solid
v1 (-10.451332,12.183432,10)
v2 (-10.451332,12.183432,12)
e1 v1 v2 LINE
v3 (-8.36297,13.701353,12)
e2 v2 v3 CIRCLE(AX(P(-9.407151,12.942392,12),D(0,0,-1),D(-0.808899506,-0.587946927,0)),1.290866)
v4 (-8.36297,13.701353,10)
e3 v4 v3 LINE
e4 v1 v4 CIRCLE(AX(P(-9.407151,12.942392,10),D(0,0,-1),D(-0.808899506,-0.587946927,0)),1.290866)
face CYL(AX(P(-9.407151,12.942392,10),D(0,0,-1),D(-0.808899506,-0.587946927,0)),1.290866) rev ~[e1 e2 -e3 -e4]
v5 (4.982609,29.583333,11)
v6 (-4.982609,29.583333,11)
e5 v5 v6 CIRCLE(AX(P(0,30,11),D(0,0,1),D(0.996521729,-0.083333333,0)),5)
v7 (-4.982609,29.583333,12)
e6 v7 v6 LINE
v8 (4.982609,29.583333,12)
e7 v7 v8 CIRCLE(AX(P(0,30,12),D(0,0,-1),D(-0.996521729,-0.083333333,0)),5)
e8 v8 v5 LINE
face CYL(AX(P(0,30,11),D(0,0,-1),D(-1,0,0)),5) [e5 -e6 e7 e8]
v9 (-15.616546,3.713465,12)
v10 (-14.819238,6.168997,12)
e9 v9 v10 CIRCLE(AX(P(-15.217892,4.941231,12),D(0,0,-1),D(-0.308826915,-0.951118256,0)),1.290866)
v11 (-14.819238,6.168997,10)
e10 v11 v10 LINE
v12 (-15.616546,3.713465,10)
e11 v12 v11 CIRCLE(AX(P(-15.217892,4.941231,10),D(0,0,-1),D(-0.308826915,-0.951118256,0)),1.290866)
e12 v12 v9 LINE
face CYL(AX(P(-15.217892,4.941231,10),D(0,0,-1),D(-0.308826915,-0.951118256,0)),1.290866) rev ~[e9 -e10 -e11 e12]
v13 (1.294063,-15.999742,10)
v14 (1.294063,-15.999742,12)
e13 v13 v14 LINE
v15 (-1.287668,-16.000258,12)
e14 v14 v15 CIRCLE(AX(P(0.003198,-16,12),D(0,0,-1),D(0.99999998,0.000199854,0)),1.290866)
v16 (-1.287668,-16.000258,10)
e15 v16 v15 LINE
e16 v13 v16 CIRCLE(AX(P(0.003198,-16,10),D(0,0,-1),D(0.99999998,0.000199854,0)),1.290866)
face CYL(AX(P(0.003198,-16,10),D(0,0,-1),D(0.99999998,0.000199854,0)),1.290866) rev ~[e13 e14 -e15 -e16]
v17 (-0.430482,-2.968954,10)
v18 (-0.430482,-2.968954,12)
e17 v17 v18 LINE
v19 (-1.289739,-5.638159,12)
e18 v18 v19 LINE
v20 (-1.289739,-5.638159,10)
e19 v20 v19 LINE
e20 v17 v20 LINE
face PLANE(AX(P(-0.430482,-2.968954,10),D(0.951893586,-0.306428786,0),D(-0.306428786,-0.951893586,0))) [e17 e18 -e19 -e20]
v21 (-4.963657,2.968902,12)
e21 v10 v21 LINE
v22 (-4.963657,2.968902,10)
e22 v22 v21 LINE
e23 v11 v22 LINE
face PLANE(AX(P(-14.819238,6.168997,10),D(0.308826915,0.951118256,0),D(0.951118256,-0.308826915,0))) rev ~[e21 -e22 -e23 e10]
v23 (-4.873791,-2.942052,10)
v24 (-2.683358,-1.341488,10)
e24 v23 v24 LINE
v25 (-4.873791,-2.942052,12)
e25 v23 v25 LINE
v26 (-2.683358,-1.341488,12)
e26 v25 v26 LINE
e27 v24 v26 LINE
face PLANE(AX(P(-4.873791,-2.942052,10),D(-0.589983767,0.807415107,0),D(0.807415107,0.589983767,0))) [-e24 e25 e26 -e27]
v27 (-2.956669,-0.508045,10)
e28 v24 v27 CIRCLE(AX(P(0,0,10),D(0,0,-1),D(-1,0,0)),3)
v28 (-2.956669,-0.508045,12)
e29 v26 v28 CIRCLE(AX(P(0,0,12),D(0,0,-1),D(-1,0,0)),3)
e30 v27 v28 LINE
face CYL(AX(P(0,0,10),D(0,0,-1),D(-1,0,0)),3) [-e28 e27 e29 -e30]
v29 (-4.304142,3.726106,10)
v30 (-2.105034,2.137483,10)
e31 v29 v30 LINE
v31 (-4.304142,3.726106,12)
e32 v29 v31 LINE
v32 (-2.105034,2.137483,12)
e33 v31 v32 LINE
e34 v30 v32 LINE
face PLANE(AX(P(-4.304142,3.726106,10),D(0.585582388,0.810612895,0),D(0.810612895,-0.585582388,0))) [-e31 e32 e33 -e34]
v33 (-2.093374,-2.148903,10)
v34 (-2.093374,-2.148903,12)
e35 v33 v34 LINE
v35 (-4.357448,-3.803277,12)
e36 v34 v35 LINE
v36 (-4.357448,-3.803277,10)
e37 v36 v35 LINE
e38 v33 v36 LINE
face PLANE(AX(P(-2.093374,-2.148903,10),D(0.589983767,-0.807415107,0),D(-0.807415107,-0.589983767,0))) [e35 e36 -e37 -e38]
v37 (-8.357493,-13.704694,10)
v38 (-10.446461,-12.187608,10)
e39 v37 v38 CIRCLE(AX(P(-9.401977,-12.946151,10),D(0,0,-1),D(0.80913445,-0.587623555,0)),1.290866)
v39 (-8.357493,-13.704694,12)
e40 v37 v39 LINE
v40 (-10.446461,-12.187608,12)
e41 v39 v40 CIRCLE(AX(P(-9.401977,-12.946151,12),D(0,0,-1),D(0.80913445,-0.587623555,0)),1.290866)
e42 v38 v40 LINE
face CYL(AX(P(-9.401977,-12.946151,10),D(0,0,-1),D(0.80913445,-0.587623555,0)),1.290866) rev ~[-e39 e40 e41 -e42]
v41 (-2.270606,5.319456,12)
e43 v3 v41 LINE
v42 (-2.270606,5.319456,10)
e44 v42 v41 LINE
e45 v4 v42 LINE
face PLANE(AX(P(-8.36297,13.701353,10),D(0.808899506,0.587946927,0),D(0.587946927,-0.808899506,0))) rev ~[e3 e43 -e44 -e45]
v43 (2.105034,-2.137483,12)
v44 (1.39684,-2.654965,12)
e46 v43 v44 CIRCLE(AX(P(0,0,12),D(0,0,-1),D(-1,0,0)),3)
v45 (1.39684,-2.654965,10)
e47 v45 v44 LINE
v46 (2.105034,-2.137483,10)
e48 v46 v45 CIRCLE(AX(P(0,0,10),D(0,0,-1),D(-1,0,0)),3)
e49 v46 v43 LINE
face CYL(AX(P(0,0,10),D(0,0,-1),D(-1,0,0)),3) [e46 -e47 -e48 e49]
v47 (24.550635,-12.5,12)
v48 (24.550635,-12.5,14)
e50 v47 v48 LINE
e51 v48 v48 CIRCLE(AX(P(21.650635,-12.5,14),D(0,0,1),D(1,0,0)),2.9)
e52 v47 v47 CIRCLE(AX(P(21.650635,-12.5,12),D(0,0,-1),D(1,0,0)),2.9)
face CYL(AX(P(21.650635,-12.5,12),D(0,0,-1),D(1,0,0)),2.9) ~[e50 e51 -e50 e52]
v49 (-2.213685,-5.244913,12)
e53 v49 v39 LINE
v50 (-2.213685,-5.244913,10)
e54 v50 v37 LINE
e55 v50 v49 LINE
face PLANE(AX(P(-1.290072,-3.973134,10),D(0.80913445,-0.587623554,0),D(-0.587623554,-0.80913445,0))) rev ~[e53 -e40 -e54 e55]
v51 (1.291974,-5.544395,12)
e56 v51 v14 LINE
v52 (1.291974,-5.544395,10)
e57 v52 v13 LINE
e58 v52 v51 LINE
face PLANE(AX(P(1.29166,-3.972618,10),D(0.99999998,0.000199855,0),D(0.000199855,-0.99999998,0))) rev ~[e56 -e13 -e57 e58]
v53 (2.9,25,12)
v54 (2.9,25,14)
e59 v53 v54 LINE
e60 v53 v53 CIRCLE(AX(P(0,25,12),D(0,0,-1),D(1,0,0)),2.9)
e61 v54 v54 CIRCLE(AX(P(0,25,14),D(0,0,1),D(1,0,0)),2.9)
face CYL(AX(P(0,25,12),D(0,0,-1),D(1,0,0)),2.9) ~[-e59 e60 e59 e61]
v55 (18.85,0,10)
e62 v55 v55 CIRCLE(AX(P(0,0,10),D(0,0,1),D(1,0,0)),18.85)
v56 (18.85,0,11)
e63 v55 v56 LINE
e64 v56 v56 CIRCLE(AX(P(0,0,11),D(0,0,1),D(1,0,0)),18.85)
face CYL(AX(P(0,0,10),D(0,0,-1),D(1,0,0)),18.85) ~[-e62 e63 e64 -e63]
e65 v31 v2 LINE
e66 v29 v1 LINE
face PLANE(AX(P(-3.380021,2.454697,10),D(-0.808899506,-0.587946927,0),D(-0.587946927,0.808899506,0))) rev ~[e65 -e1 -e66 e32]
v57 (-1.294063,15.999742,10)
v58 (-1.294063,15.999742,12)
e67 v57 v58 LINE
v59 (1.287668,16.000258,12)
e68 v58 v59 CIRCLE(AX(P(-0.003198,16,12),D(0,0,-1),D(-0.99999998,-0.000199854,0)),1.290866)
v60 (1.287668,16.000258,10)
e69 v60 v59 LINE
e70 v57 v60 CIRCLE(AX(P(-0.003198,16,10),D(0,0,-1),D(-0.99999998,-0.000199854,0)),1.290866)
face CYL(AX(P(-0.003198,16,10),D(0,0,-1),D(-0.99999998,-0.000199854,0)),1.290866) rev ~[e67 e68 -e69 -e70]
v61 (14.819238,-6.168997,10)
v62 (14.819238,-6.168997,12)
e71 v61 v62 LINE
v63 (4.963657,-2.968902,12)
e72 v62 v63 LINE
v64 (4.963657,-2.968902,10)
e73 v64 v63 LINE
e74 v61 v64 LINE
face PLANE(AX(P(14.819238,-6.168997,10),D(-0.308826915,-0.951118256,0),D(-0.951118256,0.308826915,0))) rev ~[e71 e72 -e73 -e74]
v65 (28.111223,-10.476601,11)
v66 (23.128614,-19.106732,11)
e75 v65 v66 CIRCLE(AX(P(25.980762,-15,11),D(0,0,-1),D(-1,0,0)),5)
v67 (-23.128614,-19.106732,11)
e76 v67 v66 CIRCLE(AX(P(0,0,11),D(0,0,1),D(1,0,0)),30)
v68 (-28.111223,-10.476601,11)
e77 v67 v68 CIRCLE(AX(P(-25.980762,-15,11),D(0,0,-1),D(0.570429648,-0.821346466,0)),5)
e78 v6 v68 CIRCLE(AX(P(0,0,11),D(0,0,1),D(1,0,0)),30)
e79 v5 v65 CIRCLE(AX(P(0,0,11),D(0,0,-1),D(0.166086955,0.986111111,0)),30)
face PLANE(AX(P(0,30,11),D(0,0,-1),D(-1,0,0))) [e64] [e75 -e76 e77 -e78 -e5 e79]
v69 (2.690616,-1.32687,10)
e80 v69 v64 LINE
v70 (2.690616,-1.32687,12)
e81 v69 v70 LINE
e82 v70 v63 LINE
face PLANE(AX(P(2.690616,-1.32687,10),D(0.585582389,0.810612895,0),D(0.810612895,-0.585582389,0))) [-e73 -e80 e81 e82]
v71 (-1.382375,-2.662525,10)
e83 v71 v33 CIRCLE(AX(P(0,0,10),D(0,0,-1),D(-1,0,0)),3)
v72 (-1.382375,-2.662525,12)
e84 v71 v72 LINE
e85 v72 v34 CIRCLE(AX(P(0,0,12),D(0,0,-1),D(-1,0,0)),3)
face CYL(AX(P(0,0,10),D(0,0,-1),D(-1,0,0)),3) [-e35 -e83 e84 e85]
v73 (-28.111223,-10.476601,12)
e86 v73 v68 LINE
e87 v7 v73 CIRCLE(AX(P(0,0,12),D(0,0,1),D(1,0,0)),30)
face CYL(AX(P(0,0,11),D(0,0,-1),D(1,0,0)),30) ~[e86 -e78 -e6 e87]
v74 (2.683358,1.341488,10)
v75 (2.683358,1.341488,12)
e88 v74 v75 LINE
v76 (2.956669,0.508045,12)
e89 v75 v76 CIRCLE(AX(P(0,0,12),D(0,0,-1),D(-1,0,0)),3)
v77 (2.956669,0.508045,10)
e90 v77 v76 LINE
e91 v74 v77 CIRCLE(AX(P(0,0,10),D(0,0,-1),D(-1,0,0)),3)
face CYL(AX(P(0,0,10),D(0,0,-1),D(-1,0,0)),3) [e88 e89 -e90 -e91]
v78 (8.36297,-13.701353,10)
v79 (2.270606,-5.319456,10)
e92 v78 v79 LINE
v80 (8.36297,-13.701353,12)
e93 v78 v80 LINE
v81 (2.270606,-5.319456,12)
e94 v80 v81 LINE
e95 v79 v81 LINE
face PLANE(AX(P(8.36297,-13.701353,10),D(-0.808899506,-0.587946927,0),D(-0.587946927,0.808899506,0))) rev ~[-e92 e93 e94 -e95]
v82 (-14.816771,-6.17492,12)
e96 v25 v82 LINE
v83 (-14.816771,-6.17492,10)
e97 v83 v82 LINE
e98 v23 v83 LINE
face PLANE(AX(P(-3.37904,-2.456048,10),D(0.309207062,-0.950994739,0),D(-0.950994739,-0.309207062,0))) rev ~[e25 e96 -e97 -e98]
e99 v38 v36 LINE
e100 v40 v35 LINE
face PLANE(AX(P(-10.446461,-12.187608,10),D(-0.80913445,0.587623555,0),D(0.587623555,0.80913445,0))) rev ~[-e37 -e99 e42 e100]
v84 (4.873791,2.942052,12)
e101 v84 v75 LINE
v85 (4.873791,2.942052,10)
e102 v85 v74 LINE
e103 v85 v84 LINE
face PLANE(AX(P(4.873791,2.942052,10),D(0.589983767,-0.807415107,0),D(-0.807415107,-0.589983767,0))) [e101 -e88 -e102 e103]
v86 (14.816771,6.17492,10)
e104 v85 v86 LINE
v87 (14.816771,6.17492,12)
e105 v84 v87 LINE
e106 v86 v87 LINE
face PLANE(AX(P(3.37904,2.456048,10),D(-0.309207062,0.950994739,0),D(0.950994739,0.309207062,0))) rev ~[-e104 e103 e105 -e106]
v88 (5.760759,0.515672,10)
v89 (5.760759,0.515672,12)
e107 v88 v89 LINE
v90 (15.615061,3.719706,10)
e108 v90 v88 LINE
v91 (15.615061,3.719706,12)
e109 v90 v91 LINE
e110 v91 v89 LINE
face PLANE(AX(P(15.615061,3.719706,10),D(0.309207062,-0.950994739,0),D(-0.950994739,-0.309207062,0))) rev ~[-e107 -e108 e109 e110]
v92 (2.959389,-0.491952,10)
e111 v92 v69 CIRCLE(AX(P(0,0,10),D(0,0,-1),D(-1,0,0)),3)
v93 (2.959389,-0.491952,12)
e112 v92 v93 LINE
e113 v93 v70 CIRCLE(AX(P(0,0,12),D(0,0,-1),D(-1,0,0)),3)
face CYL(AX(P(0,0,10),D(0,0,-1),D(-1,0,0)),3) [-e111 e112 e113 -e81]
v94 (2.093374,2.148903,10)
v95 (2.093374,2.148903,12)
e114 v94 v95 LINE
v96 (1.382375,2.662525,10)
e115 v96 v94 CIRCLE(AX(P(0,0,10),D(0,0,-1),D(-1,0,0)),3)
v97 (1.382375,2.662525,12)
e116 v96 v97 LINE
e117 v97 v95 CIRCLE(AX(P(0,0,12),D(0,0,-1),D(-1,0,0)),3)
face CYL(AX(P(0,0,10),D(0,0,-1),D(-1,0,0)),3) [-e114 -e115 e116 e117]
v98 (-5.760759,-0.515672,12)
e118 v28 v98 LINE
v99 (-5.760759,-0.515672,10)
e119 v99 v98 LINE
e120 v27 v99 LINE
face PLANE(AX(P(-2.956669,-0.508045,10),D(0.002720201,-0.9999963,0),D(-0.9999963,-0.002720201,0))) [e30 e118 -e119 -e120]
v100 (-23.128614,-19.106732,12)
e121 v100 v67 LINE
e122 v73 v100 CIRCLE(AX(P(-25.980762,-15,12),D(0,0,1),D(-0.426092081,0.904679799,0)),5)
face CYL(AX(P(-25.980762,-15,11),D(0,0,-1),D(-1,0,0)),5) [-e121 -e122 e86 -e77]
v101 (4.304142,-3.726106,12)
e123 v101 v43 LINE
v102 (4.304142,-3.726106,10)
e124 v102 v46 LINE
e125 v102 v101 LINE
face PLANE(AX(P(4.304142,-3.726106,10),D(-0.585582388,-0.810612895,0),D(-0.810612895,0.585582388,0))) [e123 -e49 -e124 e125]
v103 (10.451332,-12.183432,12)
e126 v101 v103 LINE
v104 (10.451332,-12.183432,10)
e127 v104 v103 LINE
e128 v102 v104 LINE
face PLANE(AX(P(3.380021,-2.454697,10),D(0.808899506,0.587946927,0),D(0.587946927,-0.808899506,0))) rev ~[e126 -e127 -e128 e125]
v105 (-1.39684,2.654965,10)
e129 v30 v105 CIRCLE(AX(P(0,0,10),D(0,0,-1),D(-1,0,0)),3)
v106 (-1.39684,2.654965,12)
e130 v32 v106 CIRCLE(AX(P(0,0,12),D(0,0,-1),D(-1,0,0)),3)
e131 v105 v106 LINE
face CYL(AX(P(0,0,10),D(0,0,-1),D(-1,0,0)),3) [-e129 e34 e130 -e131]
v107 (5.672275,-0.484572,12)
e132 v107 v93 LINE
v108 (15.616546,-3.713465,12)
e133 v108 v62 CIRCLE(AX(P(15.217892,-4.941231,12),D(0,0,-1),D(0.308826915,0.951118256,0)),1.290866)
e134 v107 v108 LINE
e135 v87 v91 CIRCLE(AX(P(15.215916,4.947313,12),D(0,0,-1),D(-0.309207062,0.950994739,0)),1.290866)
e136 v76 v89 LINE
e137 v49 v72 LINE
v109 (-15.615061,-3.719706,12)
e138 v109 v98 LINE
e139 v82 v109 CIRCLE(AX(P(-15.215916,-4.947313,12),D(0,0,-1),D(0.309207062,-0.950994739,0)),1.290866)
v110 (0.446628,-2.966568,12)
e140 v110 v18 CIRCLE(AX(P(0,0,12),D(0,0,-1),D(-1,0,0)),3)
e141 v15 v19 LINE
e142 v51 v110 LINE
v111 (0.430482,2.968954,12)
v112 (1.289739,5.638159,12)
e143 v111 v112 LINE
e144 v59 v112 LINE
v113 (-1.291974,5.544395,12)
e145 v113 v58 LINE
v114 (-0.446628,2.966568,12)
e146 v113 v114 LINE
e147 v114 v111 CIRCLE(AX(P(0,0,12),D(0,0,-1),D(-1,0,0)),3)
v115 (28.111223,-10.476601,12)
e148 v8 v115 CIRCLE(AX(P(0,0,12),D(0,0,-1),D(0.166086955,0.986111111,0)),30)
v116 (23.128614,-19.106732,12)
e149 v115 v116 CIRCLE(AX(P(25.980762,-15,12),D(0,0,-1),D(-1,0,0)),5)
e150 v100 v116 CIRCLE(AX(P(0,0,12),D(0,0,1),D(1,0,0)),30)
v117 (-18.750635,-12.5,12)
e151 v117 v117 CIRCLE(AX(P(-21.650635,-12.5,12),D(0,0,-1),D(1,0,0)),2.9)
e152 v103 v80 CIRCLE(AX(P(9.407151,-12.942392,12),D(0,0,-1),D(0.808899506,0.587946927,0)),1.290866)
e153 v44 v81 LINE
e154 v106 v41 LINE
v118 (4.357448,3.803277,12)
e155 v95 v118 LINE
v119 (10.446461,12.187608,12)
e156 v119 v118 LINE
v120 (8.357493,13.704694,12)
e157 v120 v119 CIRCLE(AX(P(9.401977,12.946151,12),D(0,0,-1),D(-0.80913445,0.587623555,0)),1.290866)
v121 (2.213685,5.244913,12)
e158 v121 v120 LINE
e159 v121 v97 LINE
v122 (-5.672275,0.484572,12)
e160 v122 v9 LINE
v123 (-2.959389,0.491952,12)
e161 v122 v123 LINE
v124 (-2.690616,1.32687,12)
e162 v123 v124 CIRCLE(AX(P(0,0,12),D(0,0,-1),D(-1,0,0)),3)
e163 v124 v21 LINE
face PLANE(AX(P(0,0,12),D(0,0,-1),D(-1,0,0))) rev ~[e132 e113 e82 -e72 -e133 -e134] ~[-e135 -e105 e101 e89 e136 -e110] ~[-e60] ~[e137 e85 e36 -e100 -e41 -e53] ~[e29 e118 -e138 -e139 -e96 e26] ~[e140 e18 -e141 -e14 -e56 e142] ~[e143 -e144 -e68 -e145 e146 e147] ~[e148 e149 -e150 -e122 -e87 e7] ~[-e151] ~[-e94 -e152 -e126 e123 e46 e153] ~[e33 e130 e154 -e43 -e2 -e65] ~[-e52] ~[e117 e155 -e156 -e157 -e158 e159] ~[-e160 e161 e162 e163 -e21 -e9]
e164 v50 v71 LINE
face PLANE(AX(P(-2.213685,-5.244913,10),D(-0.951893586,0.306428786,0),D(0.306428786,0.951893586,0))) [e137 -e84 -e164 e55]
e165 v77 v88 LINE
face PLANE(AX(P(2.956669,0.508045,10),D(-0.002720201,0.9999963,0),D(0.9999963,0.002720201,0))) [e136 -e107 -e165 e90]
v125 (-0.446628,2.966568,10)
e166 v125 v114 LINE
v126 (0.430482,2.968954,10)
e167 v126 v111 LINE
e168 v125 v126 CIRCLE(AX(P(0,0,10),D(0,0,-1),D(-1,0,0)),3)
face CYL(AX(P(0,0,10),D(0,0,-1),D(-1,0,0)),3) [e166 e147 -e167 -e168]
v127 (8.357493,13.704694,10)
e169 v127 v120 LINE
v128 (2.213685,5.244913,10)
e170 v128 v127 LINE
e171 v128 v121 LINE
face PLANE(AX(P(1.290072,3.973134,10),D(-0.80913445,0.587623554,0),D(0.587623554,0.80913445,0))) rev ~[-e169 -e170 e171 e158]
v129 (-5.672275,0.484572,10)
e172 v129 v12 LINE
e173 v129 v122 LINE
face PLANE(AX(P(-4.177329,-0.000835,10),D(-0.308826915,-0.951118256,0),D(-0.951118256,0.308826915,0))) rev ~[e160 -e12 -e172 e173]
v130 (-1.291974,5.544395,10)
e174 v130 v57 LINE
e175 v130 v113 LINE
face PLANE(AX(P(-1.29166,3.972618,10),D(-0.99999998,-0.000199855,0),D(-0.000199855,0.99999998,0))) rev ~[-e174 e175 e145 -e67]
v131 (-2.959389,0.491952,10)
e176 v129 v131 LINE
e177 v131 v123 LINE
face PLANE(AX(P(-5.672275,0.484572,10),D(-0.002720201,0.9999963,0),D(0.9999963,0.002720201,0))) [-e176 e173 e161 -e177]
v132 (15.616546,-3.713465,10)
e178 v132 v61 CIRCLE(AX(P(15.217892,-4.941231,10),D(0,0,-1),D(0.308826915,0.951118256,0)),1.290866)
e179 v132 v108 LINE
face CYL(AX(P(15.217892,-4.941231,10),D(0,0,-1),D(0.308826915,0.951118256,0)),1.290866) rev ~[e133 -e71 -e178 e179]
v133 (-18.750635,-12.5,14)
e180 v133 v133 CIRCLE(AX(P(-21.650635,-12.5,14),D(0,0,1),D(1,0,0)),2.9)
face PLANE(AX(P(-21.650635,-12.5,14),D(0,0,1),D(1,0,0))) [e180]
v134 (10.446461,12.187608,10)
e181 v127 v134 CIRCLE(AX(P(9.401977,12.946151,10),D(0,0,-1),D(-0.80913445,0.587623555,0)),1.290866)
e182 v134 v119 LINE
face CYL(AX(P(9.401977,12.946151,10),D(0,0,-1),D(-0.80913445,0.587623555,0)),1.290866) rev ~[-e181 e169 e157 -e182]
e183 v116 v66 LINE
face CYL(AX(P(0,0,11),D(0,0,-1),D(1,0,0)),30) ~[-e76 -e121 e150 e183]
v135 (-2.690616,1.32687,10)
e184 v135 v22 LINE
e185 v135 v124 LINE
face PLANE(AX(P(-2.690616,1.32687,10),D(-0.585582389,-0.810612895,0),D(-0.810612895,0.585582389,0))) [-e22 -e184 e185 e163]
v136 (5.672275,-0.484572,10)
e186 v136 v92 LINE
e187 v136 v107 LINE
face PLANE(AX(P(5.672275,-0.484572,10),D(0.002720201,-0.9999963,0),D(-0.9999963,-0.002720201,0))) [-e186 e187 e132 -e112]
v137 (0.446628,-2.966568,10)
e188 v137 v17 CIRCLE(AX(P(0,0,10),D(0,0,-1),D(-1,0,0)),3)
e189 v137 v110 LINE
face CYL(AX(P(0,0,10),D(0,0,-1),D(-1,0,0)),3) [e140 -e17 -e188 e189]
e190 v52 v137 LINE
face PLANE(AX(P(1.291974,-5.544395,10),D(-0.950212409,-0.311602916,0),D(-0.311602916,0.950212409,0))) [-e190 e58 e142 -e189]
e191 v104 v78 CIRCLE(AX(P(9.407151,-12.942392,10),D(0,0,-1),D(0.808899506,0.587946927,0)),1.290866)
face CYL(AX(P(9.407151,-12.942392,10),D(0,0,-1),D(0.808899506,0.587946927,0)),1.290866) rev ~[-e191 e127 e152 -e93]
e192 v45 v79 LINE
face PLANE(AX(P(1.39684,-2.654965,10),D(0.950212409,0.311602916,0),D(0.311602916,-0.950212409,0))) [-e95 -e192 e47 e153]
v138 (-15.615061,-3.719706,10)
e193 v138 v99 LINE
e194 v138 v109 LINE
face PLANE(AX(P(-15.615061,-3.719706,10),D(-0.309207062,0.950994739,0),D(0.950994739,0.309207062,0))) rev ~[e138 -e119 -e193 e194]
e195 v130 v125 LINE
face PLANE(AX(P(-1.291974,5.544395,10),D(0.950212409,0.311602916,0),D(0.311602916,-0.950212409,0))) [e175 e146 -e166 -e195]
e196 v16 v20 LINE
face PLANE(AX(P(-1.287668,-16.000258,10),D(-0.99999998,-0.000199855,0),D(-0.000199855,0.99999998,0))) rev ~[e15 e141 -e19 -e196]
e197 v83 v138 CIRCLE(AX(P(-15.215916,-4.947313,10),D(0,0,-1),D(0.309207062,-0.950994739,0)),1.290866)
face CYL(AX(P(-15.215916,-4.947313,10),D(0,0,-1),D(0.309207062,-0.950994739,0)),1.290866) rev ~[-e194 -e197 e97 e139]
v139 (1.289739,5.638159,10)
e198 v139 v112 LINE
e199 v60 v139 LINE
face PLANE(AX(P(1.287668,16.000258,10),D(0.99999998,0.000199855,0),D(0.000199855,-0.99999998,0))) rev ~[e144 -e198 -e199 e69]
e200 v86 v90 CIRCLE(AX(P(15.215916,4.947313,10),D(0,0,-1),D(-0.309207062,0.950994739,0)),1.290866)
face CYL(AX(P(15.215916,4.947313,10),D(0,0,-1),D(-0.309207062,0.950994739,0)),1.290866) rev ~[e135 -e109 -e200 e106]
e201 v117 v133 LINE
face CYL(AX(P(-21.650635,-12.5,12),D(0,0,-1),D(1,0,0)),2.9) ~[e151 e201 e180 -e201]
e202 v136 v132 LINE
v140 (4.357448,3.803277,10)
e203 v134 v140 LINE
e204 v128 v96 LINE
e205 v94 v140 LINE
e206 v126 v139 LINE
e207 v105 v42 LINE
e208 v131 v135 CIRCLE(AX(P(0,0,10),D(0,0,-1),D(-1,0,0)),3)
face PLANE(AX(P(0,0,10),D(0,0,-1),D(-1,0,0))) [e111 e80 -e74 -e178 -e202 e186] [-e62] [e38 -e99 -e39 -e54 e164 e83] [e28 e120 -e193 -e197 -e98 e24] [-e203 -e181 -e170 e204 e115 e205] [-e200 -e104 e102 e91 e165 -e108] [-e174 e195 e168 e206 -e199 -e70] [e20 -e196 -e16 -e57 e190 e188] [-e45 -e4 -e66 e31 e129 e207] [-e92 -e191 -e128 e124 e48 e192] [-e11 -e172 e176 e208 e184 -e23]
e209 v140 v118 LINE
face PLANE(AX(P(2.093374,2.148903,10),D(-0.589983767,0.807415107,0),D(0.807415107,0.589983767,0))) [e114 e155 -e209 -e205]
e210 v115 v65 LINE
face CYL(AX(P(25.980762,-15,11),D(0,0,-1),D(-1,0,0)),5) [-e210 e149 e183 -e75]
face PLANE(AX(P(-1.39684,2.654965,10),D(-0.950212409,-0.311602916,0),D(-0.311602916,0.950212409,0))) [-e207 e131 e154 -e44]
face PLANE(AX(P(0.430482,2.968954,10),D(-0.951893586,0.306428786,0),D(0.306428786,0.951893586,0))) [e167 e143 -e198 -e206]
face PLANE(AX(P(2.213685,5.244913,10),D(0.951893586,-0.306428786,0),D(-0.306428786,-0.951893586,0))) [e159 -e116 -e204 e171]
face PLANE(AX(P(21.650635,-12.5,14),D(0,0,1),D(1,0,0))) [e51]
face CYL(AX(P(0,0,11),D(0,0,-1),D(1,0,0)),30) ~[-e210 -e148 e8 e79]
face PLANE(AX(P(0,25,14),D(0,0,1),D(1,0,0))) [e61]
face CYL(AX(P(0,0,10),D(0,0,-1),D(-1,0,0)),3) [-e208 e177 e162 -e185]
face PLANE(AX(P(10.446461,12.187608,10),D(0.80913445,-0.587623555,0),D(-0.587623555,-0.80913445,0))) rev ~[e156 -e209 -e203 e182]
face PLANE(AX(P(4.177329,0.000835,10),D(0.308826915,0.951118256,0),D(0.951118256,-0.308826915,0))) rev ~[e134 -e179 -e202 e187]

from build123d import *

# Parameters (mm, degrees)
SKETCH2_R           = 18.85
BOSS_EXTRUDE1_DEPTH = 2
BOSS_EXTRUDE2_START = -1
SKETCH3_R           = 30
SKETCH3_R_2         = 18.85
BOSS_EXTRUDE2_DEPTH = 1
SKETCH4_R           = 2.9
BOSS_EXTRUDE3_DEPTH = 2
SKETCH6_R           = 5
BOSS_EXTRUDE4_DEPTH = 1
BOSS_EXTRUDE5_DEPTH = 2
SKETCH13_R          = 3
BOSS_EXTRUDE6_DEPTH = 2


with BuildPart() as part:
    # Sketch2 → Boss-Extrude1 (new body)
    with BuildSketch(Plane.XY.offset(10)):
        Circle(SKETCH2_R)
        with BuildLine():
            ThreePointArc((-1.294063412, 15.999741695), (-0.003455665, 17.290865413), (1.287668054, 16.000257666))
            Line((1.287668054, 16.000257666), (1.290071734, 3.973134201))
            Line((1.290071734, 3.973134201), (8.357492916, 13.704694326))
            ThreePointArc((8.357492916, 13.704694326), (10.160519997, 13.990635156), (10.446460828, 12.187608075))
            Line((10.446460828, 12.187608075), (3.379039645, 2.45604795))
            Line((3.379039645, 2.45604795), (14.816771011, 6.17491953))
            ThreePointArc((14.816771011, 6.17491953), (16.443522365, 5.346457793), (15.615060628, 3.71970644))
            Line((15.615060628, 3.71970644), (4.177329262, 0.00083486))
            Line((4.177329262, 0.00083486), (15.616546184, -3.713464648))
            ThreePointArc((15.616546184, -3.713464648), (16.445658083, -5.339884727), (14.819238004, -6.168996626))
            Line((14.819238004, -6.168996626), (3.380021082, -2.454697118))
            Line((3.380021082, -2.454697118), (10.451331501, -12.183431547))
            ThreePointArc((10.451331501, -12.183431547), (10.166111381, -13.986572778), (8.362970151, -13.701352658))
            Line((8.362970151, -13.701352658), (1.291659732, -3.972618229))
            Line((1.291659732, -3.972618229), (1.294063412, -15.999741695))
            ThreePointArc((1.294063412, -15.999741695), (0.003455665, -17.290865413), (-1.287668054, -16.000257666))
            Line((-1.287668054, -16.000257666), (-1.290071734, -3.973134201))
            Line((-1.290071734, -3.973134201), (-8.357492916, -13.704694326))
            ThreePointArc((-8.357492916, -13.704694326), (-10.160519997, -13.990635156), (-10.446460828, -12.187608075))
            Line((-10.446460828, -12.187608075), (-3.379039645, -2.45604795))
            Line((-3.379039645, -2.45604795), (-14.816771011, -6.17491953))
            ThreePointArc((-14.816771011, -6.17491953), (-16.443522365, -5.346457793), (-15.615060628, -3.71970644))
            Line((-15.615060628, -3.71970644), (-4.177329262, -0.00083486))
            Line((-4.177329262, -0.00083486), (-15.616546184, 3.713464648))
            ThreePointArc((-15.616546184, 3.713464648), (-16.445658083, 5.339884727), (-14.819238004, 6.168996626))
            Line((-14.819238004, 6.168996626), (-3.380021082, 2.454697118))
            Line((-3.380021082, 2.454697118), (-10.451331501, 12.183431547))
            ThreePointArc((-10.451331501, 12.183431547), (-10.166111381, 13.986572778), (-8.362970151, 13.701352658))
            Line((-8.362970151, 13.701352658), (-1.291659732, 3.972618229))
            Line((-1.291659732, 3.972618229), (-1.294063412, 15.999741695))
        make_face(mode=Mode.SUBTRACT)
    extrude(amount=BOSS_EXTRUDE1_DEPTH)

    # Sketch3 → Boss-Extrude2 (add)
    with BuildSketch(Plane.XY.offset(12).offset(BOSS_EXTRUDE2_START)):
        Circle(SKETCH3_R)
        Circle(SKETCH3_R_2, mode=Mode.SUBTRACT)
    extrude(amount=BOSS_EXTRUDE2_DEPTH)

    # Sketch4 → Boss-Extrude3 (add)
    with BuildSketch(Plane.XY.offset(12)):
        with Locations((0, 25)):
            Circle(SKETCH4_R)
        with Locations((21.650635095, -12.5)):
            Circle(SKETCH4_R)
        with Locations((-21.650635095, -12.5)):
            Circle(SKETCH4_R)
    extrude(amount=BOSS_EXTRUDE3_DEPTH)

    # Sketch6 → Boss-Extrude4 (add)
    with BuildSketch(Plane(origin=(0, 0, 11), x_dir=(-1, 0, 0), z_dir=(0, 0, -1))):
        with Locations((0, 30)):
            Circle(SKETCH6_R)
        with Locations((25.980762114, -15)):
            Circle(SKETCH6_R)
        with Locations((-25.980762114, -15)):
            Circle(SKETCH6_R)
    extrude(amount=-BOSS_EXTRUDE4_DEPTH)

    # Sketch12 → Boss-Extrude5 (add)
    with BuildSketch(Plane(origin=(0, 0, 10), x_dir=(-1, 0, 0), z_dir=(0, 0, -1))):
        with BuildLine():
            Line((-2.213684697, 5.244912811), (-1.382375366, 2.662524807))
            ThreePointArc((-1.382375366, 2.662524807), (-0.919286358, 2.855680758), (-0.43048178, 2.968953593))
            Line((-0.43048178, 2.968953593), (-1.28973897, 5.638159118))
            Line((-1.28973897, 5.638159118), (-1.290071734, 3.973134201))
            Line((-1.290071734, 3.973134201), (-2.213684697, 5.244912811))
        make_face()
        with BuildLine():
            Line((1.291973859, 5.544394816), (0.446627652, 2.96656767))
            ThreePointArc((0.446627652, 2.96656767), (0.934808749, 2.850637228), (1.396840061, 2.654964754))
            Line((1.396840061, 2.654964754), (2.270606035, 5.31945609))
            Line((2.270606035, 5.31945609), (1.291659732, 3.972618229))
            Line((1.291659732, 3.972618229), (1.291973859, 5.544394816))
        make_face()
        with BuildLine():
            ThreePointArc((2.105034087, 2.137482513), (2.431838686, 1.756747166), (2.690616475, 1.326869617))
            Line((2.690616475, 1.326869617), (4.963656709, 2.968901637))
            Line((4.963656709, 2.968901637), (3.380021082, 2.454697118))
            Line((3.380021082, 2.454697118), (4.304142315, 3.726106449))
            Line((4.304142315, 3.726106449), (2.105034087, 2.137482513))
        make_face()
        with BuildLine():
            ThreePointArc((3, 0), (2.989147583, -0.254944562), (2.956668847, -0.508044614))
            Line((2.956668847, -0.508044614), (5.76075923, -0.515672332))
            Line((5.76075923, -0.515672332), (4.177329262, -0.00083486))
            Line((4.177329262, -0.00083486), (5.672274698, 0.484572064))
            Line((5.672274698, 0.484572064), (2.959389048, 0.491951686))
            ThreePointArc((2.959389048, 0.491951686), (2.989830024, 0.246812536), (3, 0))
        make_face()
        with BuildLine():
            ThreePointArc((2.683357979, -1.341487964), (2.422245321, -1.7699513), (2.093374212, -2.148903071))
            Line((2.093374212, -2.148903071), (4.357447525, -3.803276998))
            Line((4.357447525, -3.803276998), (3.379039645, -2.45604795))
            Line((3.379039645, -2.45604795), (4.87379094, -2.94205238))
            Line((4.87379094, -2.94205238), (2.683357979, -1.341487964))
        make_face()
        with BuildLine():
            ThreePointArc((1.382375366, -2.662524807), (0.919286358, -2.855680758), (0.43048178, -2.968953593))
            Line((0.43048178, -2.968953593), (1.28973897, -5.638159118))
            Line((1.28973897, -5.638159118), (1.290071734, -3.973134201))
            Line((1.290071734, -3.973134201), (2.213684697, -5.244912811))
            Line((2.213684697, -5.244912811), (1.382375366, -2.662524807))
        make_face()
        with BuildLine():
            Line((-1.396840061, -2.654964754), (-2.270606035, -5.31945609))
            Line((-2.270606035, -5.31945609), (-1.291659732, -3.972618229))
            Line((-1.291659732, -3.972618229), (-1.291973859, -5.544394816))
            Line((-1.291973859, -5.544394816), (-0.446627652, -2.96656767))
            ThreePointArc((-0.446627652, -2.96656767), (-0.934808749, -2.850637228), (-1.396840061, -2.654964754))
        make_face()
        with BuildLine():
            Line((-4.304142315, -3.726106449), (-2.105034087, -2.137482513))
            ThreePointArc((-2.105034087, -2.137482513), (-2.431838686, -1.756747166), (-2.690616475, -1.326869617))
            Line((-2.690616475, -1.326869617), (-4.963656709, -2.968901637))
            Line((-4.963656709, -2.968901637), (-3.380021082, -2.454697118))
            Line((-3.380021082, -2.454697118), (-4.304142315, -3.726106449))
        make_face()
        with BuildLine():
            Line((-5.672274698, -0.484572064), (-2.959389048, -0.491951686))
            ThreePointArc((-2.959389048, -0.491951686), (-2.999988901, 0.008160604), (-2.956668847, 0.508044614))
            Line((-2.956668847, 0.508044614), (-5.76075923, 0.515672332))
            Line((-5.76075923, 0.515672332), (-4.177329262, 0.00083486))
            Line((-4.177329262, 0.00083486), (-5.672274698, -0.484572064))
        make_face()
        with BuildLine():
            Line((-4.87379094, 2.94205238), (-2.683357979, 1.341487964))
            ThreePointArc((-2.683357979, 1.341487964), (-2.422245321, 1.7699513), (-2.093374212, 2.148903071))
            Line((-2.093374212, 2.148903071), (-4.357447525, 3.803276998))
            Line((-4.357447525, 3.803276998), (-3.379039645, 2.45604795))
            Line((-3.379039645, 2.45604795), (-4.87379094, 2.94205238))
        make_face()
    extrude(amount=-BOSS_EXTRUDE5_DEPTH)

    # Sketch13 → Boss-Extrude6 (add)
    with BuildSketch(Plane(origin=(0, 0, 10), x_dir=(-1, 0, 0), z_dir=(0, 0, -1))):
        Circle(SKETCH13_R)
    extrude(amount=-BOSS_EXTRUDE6_DEPTH)


solid = part.part
